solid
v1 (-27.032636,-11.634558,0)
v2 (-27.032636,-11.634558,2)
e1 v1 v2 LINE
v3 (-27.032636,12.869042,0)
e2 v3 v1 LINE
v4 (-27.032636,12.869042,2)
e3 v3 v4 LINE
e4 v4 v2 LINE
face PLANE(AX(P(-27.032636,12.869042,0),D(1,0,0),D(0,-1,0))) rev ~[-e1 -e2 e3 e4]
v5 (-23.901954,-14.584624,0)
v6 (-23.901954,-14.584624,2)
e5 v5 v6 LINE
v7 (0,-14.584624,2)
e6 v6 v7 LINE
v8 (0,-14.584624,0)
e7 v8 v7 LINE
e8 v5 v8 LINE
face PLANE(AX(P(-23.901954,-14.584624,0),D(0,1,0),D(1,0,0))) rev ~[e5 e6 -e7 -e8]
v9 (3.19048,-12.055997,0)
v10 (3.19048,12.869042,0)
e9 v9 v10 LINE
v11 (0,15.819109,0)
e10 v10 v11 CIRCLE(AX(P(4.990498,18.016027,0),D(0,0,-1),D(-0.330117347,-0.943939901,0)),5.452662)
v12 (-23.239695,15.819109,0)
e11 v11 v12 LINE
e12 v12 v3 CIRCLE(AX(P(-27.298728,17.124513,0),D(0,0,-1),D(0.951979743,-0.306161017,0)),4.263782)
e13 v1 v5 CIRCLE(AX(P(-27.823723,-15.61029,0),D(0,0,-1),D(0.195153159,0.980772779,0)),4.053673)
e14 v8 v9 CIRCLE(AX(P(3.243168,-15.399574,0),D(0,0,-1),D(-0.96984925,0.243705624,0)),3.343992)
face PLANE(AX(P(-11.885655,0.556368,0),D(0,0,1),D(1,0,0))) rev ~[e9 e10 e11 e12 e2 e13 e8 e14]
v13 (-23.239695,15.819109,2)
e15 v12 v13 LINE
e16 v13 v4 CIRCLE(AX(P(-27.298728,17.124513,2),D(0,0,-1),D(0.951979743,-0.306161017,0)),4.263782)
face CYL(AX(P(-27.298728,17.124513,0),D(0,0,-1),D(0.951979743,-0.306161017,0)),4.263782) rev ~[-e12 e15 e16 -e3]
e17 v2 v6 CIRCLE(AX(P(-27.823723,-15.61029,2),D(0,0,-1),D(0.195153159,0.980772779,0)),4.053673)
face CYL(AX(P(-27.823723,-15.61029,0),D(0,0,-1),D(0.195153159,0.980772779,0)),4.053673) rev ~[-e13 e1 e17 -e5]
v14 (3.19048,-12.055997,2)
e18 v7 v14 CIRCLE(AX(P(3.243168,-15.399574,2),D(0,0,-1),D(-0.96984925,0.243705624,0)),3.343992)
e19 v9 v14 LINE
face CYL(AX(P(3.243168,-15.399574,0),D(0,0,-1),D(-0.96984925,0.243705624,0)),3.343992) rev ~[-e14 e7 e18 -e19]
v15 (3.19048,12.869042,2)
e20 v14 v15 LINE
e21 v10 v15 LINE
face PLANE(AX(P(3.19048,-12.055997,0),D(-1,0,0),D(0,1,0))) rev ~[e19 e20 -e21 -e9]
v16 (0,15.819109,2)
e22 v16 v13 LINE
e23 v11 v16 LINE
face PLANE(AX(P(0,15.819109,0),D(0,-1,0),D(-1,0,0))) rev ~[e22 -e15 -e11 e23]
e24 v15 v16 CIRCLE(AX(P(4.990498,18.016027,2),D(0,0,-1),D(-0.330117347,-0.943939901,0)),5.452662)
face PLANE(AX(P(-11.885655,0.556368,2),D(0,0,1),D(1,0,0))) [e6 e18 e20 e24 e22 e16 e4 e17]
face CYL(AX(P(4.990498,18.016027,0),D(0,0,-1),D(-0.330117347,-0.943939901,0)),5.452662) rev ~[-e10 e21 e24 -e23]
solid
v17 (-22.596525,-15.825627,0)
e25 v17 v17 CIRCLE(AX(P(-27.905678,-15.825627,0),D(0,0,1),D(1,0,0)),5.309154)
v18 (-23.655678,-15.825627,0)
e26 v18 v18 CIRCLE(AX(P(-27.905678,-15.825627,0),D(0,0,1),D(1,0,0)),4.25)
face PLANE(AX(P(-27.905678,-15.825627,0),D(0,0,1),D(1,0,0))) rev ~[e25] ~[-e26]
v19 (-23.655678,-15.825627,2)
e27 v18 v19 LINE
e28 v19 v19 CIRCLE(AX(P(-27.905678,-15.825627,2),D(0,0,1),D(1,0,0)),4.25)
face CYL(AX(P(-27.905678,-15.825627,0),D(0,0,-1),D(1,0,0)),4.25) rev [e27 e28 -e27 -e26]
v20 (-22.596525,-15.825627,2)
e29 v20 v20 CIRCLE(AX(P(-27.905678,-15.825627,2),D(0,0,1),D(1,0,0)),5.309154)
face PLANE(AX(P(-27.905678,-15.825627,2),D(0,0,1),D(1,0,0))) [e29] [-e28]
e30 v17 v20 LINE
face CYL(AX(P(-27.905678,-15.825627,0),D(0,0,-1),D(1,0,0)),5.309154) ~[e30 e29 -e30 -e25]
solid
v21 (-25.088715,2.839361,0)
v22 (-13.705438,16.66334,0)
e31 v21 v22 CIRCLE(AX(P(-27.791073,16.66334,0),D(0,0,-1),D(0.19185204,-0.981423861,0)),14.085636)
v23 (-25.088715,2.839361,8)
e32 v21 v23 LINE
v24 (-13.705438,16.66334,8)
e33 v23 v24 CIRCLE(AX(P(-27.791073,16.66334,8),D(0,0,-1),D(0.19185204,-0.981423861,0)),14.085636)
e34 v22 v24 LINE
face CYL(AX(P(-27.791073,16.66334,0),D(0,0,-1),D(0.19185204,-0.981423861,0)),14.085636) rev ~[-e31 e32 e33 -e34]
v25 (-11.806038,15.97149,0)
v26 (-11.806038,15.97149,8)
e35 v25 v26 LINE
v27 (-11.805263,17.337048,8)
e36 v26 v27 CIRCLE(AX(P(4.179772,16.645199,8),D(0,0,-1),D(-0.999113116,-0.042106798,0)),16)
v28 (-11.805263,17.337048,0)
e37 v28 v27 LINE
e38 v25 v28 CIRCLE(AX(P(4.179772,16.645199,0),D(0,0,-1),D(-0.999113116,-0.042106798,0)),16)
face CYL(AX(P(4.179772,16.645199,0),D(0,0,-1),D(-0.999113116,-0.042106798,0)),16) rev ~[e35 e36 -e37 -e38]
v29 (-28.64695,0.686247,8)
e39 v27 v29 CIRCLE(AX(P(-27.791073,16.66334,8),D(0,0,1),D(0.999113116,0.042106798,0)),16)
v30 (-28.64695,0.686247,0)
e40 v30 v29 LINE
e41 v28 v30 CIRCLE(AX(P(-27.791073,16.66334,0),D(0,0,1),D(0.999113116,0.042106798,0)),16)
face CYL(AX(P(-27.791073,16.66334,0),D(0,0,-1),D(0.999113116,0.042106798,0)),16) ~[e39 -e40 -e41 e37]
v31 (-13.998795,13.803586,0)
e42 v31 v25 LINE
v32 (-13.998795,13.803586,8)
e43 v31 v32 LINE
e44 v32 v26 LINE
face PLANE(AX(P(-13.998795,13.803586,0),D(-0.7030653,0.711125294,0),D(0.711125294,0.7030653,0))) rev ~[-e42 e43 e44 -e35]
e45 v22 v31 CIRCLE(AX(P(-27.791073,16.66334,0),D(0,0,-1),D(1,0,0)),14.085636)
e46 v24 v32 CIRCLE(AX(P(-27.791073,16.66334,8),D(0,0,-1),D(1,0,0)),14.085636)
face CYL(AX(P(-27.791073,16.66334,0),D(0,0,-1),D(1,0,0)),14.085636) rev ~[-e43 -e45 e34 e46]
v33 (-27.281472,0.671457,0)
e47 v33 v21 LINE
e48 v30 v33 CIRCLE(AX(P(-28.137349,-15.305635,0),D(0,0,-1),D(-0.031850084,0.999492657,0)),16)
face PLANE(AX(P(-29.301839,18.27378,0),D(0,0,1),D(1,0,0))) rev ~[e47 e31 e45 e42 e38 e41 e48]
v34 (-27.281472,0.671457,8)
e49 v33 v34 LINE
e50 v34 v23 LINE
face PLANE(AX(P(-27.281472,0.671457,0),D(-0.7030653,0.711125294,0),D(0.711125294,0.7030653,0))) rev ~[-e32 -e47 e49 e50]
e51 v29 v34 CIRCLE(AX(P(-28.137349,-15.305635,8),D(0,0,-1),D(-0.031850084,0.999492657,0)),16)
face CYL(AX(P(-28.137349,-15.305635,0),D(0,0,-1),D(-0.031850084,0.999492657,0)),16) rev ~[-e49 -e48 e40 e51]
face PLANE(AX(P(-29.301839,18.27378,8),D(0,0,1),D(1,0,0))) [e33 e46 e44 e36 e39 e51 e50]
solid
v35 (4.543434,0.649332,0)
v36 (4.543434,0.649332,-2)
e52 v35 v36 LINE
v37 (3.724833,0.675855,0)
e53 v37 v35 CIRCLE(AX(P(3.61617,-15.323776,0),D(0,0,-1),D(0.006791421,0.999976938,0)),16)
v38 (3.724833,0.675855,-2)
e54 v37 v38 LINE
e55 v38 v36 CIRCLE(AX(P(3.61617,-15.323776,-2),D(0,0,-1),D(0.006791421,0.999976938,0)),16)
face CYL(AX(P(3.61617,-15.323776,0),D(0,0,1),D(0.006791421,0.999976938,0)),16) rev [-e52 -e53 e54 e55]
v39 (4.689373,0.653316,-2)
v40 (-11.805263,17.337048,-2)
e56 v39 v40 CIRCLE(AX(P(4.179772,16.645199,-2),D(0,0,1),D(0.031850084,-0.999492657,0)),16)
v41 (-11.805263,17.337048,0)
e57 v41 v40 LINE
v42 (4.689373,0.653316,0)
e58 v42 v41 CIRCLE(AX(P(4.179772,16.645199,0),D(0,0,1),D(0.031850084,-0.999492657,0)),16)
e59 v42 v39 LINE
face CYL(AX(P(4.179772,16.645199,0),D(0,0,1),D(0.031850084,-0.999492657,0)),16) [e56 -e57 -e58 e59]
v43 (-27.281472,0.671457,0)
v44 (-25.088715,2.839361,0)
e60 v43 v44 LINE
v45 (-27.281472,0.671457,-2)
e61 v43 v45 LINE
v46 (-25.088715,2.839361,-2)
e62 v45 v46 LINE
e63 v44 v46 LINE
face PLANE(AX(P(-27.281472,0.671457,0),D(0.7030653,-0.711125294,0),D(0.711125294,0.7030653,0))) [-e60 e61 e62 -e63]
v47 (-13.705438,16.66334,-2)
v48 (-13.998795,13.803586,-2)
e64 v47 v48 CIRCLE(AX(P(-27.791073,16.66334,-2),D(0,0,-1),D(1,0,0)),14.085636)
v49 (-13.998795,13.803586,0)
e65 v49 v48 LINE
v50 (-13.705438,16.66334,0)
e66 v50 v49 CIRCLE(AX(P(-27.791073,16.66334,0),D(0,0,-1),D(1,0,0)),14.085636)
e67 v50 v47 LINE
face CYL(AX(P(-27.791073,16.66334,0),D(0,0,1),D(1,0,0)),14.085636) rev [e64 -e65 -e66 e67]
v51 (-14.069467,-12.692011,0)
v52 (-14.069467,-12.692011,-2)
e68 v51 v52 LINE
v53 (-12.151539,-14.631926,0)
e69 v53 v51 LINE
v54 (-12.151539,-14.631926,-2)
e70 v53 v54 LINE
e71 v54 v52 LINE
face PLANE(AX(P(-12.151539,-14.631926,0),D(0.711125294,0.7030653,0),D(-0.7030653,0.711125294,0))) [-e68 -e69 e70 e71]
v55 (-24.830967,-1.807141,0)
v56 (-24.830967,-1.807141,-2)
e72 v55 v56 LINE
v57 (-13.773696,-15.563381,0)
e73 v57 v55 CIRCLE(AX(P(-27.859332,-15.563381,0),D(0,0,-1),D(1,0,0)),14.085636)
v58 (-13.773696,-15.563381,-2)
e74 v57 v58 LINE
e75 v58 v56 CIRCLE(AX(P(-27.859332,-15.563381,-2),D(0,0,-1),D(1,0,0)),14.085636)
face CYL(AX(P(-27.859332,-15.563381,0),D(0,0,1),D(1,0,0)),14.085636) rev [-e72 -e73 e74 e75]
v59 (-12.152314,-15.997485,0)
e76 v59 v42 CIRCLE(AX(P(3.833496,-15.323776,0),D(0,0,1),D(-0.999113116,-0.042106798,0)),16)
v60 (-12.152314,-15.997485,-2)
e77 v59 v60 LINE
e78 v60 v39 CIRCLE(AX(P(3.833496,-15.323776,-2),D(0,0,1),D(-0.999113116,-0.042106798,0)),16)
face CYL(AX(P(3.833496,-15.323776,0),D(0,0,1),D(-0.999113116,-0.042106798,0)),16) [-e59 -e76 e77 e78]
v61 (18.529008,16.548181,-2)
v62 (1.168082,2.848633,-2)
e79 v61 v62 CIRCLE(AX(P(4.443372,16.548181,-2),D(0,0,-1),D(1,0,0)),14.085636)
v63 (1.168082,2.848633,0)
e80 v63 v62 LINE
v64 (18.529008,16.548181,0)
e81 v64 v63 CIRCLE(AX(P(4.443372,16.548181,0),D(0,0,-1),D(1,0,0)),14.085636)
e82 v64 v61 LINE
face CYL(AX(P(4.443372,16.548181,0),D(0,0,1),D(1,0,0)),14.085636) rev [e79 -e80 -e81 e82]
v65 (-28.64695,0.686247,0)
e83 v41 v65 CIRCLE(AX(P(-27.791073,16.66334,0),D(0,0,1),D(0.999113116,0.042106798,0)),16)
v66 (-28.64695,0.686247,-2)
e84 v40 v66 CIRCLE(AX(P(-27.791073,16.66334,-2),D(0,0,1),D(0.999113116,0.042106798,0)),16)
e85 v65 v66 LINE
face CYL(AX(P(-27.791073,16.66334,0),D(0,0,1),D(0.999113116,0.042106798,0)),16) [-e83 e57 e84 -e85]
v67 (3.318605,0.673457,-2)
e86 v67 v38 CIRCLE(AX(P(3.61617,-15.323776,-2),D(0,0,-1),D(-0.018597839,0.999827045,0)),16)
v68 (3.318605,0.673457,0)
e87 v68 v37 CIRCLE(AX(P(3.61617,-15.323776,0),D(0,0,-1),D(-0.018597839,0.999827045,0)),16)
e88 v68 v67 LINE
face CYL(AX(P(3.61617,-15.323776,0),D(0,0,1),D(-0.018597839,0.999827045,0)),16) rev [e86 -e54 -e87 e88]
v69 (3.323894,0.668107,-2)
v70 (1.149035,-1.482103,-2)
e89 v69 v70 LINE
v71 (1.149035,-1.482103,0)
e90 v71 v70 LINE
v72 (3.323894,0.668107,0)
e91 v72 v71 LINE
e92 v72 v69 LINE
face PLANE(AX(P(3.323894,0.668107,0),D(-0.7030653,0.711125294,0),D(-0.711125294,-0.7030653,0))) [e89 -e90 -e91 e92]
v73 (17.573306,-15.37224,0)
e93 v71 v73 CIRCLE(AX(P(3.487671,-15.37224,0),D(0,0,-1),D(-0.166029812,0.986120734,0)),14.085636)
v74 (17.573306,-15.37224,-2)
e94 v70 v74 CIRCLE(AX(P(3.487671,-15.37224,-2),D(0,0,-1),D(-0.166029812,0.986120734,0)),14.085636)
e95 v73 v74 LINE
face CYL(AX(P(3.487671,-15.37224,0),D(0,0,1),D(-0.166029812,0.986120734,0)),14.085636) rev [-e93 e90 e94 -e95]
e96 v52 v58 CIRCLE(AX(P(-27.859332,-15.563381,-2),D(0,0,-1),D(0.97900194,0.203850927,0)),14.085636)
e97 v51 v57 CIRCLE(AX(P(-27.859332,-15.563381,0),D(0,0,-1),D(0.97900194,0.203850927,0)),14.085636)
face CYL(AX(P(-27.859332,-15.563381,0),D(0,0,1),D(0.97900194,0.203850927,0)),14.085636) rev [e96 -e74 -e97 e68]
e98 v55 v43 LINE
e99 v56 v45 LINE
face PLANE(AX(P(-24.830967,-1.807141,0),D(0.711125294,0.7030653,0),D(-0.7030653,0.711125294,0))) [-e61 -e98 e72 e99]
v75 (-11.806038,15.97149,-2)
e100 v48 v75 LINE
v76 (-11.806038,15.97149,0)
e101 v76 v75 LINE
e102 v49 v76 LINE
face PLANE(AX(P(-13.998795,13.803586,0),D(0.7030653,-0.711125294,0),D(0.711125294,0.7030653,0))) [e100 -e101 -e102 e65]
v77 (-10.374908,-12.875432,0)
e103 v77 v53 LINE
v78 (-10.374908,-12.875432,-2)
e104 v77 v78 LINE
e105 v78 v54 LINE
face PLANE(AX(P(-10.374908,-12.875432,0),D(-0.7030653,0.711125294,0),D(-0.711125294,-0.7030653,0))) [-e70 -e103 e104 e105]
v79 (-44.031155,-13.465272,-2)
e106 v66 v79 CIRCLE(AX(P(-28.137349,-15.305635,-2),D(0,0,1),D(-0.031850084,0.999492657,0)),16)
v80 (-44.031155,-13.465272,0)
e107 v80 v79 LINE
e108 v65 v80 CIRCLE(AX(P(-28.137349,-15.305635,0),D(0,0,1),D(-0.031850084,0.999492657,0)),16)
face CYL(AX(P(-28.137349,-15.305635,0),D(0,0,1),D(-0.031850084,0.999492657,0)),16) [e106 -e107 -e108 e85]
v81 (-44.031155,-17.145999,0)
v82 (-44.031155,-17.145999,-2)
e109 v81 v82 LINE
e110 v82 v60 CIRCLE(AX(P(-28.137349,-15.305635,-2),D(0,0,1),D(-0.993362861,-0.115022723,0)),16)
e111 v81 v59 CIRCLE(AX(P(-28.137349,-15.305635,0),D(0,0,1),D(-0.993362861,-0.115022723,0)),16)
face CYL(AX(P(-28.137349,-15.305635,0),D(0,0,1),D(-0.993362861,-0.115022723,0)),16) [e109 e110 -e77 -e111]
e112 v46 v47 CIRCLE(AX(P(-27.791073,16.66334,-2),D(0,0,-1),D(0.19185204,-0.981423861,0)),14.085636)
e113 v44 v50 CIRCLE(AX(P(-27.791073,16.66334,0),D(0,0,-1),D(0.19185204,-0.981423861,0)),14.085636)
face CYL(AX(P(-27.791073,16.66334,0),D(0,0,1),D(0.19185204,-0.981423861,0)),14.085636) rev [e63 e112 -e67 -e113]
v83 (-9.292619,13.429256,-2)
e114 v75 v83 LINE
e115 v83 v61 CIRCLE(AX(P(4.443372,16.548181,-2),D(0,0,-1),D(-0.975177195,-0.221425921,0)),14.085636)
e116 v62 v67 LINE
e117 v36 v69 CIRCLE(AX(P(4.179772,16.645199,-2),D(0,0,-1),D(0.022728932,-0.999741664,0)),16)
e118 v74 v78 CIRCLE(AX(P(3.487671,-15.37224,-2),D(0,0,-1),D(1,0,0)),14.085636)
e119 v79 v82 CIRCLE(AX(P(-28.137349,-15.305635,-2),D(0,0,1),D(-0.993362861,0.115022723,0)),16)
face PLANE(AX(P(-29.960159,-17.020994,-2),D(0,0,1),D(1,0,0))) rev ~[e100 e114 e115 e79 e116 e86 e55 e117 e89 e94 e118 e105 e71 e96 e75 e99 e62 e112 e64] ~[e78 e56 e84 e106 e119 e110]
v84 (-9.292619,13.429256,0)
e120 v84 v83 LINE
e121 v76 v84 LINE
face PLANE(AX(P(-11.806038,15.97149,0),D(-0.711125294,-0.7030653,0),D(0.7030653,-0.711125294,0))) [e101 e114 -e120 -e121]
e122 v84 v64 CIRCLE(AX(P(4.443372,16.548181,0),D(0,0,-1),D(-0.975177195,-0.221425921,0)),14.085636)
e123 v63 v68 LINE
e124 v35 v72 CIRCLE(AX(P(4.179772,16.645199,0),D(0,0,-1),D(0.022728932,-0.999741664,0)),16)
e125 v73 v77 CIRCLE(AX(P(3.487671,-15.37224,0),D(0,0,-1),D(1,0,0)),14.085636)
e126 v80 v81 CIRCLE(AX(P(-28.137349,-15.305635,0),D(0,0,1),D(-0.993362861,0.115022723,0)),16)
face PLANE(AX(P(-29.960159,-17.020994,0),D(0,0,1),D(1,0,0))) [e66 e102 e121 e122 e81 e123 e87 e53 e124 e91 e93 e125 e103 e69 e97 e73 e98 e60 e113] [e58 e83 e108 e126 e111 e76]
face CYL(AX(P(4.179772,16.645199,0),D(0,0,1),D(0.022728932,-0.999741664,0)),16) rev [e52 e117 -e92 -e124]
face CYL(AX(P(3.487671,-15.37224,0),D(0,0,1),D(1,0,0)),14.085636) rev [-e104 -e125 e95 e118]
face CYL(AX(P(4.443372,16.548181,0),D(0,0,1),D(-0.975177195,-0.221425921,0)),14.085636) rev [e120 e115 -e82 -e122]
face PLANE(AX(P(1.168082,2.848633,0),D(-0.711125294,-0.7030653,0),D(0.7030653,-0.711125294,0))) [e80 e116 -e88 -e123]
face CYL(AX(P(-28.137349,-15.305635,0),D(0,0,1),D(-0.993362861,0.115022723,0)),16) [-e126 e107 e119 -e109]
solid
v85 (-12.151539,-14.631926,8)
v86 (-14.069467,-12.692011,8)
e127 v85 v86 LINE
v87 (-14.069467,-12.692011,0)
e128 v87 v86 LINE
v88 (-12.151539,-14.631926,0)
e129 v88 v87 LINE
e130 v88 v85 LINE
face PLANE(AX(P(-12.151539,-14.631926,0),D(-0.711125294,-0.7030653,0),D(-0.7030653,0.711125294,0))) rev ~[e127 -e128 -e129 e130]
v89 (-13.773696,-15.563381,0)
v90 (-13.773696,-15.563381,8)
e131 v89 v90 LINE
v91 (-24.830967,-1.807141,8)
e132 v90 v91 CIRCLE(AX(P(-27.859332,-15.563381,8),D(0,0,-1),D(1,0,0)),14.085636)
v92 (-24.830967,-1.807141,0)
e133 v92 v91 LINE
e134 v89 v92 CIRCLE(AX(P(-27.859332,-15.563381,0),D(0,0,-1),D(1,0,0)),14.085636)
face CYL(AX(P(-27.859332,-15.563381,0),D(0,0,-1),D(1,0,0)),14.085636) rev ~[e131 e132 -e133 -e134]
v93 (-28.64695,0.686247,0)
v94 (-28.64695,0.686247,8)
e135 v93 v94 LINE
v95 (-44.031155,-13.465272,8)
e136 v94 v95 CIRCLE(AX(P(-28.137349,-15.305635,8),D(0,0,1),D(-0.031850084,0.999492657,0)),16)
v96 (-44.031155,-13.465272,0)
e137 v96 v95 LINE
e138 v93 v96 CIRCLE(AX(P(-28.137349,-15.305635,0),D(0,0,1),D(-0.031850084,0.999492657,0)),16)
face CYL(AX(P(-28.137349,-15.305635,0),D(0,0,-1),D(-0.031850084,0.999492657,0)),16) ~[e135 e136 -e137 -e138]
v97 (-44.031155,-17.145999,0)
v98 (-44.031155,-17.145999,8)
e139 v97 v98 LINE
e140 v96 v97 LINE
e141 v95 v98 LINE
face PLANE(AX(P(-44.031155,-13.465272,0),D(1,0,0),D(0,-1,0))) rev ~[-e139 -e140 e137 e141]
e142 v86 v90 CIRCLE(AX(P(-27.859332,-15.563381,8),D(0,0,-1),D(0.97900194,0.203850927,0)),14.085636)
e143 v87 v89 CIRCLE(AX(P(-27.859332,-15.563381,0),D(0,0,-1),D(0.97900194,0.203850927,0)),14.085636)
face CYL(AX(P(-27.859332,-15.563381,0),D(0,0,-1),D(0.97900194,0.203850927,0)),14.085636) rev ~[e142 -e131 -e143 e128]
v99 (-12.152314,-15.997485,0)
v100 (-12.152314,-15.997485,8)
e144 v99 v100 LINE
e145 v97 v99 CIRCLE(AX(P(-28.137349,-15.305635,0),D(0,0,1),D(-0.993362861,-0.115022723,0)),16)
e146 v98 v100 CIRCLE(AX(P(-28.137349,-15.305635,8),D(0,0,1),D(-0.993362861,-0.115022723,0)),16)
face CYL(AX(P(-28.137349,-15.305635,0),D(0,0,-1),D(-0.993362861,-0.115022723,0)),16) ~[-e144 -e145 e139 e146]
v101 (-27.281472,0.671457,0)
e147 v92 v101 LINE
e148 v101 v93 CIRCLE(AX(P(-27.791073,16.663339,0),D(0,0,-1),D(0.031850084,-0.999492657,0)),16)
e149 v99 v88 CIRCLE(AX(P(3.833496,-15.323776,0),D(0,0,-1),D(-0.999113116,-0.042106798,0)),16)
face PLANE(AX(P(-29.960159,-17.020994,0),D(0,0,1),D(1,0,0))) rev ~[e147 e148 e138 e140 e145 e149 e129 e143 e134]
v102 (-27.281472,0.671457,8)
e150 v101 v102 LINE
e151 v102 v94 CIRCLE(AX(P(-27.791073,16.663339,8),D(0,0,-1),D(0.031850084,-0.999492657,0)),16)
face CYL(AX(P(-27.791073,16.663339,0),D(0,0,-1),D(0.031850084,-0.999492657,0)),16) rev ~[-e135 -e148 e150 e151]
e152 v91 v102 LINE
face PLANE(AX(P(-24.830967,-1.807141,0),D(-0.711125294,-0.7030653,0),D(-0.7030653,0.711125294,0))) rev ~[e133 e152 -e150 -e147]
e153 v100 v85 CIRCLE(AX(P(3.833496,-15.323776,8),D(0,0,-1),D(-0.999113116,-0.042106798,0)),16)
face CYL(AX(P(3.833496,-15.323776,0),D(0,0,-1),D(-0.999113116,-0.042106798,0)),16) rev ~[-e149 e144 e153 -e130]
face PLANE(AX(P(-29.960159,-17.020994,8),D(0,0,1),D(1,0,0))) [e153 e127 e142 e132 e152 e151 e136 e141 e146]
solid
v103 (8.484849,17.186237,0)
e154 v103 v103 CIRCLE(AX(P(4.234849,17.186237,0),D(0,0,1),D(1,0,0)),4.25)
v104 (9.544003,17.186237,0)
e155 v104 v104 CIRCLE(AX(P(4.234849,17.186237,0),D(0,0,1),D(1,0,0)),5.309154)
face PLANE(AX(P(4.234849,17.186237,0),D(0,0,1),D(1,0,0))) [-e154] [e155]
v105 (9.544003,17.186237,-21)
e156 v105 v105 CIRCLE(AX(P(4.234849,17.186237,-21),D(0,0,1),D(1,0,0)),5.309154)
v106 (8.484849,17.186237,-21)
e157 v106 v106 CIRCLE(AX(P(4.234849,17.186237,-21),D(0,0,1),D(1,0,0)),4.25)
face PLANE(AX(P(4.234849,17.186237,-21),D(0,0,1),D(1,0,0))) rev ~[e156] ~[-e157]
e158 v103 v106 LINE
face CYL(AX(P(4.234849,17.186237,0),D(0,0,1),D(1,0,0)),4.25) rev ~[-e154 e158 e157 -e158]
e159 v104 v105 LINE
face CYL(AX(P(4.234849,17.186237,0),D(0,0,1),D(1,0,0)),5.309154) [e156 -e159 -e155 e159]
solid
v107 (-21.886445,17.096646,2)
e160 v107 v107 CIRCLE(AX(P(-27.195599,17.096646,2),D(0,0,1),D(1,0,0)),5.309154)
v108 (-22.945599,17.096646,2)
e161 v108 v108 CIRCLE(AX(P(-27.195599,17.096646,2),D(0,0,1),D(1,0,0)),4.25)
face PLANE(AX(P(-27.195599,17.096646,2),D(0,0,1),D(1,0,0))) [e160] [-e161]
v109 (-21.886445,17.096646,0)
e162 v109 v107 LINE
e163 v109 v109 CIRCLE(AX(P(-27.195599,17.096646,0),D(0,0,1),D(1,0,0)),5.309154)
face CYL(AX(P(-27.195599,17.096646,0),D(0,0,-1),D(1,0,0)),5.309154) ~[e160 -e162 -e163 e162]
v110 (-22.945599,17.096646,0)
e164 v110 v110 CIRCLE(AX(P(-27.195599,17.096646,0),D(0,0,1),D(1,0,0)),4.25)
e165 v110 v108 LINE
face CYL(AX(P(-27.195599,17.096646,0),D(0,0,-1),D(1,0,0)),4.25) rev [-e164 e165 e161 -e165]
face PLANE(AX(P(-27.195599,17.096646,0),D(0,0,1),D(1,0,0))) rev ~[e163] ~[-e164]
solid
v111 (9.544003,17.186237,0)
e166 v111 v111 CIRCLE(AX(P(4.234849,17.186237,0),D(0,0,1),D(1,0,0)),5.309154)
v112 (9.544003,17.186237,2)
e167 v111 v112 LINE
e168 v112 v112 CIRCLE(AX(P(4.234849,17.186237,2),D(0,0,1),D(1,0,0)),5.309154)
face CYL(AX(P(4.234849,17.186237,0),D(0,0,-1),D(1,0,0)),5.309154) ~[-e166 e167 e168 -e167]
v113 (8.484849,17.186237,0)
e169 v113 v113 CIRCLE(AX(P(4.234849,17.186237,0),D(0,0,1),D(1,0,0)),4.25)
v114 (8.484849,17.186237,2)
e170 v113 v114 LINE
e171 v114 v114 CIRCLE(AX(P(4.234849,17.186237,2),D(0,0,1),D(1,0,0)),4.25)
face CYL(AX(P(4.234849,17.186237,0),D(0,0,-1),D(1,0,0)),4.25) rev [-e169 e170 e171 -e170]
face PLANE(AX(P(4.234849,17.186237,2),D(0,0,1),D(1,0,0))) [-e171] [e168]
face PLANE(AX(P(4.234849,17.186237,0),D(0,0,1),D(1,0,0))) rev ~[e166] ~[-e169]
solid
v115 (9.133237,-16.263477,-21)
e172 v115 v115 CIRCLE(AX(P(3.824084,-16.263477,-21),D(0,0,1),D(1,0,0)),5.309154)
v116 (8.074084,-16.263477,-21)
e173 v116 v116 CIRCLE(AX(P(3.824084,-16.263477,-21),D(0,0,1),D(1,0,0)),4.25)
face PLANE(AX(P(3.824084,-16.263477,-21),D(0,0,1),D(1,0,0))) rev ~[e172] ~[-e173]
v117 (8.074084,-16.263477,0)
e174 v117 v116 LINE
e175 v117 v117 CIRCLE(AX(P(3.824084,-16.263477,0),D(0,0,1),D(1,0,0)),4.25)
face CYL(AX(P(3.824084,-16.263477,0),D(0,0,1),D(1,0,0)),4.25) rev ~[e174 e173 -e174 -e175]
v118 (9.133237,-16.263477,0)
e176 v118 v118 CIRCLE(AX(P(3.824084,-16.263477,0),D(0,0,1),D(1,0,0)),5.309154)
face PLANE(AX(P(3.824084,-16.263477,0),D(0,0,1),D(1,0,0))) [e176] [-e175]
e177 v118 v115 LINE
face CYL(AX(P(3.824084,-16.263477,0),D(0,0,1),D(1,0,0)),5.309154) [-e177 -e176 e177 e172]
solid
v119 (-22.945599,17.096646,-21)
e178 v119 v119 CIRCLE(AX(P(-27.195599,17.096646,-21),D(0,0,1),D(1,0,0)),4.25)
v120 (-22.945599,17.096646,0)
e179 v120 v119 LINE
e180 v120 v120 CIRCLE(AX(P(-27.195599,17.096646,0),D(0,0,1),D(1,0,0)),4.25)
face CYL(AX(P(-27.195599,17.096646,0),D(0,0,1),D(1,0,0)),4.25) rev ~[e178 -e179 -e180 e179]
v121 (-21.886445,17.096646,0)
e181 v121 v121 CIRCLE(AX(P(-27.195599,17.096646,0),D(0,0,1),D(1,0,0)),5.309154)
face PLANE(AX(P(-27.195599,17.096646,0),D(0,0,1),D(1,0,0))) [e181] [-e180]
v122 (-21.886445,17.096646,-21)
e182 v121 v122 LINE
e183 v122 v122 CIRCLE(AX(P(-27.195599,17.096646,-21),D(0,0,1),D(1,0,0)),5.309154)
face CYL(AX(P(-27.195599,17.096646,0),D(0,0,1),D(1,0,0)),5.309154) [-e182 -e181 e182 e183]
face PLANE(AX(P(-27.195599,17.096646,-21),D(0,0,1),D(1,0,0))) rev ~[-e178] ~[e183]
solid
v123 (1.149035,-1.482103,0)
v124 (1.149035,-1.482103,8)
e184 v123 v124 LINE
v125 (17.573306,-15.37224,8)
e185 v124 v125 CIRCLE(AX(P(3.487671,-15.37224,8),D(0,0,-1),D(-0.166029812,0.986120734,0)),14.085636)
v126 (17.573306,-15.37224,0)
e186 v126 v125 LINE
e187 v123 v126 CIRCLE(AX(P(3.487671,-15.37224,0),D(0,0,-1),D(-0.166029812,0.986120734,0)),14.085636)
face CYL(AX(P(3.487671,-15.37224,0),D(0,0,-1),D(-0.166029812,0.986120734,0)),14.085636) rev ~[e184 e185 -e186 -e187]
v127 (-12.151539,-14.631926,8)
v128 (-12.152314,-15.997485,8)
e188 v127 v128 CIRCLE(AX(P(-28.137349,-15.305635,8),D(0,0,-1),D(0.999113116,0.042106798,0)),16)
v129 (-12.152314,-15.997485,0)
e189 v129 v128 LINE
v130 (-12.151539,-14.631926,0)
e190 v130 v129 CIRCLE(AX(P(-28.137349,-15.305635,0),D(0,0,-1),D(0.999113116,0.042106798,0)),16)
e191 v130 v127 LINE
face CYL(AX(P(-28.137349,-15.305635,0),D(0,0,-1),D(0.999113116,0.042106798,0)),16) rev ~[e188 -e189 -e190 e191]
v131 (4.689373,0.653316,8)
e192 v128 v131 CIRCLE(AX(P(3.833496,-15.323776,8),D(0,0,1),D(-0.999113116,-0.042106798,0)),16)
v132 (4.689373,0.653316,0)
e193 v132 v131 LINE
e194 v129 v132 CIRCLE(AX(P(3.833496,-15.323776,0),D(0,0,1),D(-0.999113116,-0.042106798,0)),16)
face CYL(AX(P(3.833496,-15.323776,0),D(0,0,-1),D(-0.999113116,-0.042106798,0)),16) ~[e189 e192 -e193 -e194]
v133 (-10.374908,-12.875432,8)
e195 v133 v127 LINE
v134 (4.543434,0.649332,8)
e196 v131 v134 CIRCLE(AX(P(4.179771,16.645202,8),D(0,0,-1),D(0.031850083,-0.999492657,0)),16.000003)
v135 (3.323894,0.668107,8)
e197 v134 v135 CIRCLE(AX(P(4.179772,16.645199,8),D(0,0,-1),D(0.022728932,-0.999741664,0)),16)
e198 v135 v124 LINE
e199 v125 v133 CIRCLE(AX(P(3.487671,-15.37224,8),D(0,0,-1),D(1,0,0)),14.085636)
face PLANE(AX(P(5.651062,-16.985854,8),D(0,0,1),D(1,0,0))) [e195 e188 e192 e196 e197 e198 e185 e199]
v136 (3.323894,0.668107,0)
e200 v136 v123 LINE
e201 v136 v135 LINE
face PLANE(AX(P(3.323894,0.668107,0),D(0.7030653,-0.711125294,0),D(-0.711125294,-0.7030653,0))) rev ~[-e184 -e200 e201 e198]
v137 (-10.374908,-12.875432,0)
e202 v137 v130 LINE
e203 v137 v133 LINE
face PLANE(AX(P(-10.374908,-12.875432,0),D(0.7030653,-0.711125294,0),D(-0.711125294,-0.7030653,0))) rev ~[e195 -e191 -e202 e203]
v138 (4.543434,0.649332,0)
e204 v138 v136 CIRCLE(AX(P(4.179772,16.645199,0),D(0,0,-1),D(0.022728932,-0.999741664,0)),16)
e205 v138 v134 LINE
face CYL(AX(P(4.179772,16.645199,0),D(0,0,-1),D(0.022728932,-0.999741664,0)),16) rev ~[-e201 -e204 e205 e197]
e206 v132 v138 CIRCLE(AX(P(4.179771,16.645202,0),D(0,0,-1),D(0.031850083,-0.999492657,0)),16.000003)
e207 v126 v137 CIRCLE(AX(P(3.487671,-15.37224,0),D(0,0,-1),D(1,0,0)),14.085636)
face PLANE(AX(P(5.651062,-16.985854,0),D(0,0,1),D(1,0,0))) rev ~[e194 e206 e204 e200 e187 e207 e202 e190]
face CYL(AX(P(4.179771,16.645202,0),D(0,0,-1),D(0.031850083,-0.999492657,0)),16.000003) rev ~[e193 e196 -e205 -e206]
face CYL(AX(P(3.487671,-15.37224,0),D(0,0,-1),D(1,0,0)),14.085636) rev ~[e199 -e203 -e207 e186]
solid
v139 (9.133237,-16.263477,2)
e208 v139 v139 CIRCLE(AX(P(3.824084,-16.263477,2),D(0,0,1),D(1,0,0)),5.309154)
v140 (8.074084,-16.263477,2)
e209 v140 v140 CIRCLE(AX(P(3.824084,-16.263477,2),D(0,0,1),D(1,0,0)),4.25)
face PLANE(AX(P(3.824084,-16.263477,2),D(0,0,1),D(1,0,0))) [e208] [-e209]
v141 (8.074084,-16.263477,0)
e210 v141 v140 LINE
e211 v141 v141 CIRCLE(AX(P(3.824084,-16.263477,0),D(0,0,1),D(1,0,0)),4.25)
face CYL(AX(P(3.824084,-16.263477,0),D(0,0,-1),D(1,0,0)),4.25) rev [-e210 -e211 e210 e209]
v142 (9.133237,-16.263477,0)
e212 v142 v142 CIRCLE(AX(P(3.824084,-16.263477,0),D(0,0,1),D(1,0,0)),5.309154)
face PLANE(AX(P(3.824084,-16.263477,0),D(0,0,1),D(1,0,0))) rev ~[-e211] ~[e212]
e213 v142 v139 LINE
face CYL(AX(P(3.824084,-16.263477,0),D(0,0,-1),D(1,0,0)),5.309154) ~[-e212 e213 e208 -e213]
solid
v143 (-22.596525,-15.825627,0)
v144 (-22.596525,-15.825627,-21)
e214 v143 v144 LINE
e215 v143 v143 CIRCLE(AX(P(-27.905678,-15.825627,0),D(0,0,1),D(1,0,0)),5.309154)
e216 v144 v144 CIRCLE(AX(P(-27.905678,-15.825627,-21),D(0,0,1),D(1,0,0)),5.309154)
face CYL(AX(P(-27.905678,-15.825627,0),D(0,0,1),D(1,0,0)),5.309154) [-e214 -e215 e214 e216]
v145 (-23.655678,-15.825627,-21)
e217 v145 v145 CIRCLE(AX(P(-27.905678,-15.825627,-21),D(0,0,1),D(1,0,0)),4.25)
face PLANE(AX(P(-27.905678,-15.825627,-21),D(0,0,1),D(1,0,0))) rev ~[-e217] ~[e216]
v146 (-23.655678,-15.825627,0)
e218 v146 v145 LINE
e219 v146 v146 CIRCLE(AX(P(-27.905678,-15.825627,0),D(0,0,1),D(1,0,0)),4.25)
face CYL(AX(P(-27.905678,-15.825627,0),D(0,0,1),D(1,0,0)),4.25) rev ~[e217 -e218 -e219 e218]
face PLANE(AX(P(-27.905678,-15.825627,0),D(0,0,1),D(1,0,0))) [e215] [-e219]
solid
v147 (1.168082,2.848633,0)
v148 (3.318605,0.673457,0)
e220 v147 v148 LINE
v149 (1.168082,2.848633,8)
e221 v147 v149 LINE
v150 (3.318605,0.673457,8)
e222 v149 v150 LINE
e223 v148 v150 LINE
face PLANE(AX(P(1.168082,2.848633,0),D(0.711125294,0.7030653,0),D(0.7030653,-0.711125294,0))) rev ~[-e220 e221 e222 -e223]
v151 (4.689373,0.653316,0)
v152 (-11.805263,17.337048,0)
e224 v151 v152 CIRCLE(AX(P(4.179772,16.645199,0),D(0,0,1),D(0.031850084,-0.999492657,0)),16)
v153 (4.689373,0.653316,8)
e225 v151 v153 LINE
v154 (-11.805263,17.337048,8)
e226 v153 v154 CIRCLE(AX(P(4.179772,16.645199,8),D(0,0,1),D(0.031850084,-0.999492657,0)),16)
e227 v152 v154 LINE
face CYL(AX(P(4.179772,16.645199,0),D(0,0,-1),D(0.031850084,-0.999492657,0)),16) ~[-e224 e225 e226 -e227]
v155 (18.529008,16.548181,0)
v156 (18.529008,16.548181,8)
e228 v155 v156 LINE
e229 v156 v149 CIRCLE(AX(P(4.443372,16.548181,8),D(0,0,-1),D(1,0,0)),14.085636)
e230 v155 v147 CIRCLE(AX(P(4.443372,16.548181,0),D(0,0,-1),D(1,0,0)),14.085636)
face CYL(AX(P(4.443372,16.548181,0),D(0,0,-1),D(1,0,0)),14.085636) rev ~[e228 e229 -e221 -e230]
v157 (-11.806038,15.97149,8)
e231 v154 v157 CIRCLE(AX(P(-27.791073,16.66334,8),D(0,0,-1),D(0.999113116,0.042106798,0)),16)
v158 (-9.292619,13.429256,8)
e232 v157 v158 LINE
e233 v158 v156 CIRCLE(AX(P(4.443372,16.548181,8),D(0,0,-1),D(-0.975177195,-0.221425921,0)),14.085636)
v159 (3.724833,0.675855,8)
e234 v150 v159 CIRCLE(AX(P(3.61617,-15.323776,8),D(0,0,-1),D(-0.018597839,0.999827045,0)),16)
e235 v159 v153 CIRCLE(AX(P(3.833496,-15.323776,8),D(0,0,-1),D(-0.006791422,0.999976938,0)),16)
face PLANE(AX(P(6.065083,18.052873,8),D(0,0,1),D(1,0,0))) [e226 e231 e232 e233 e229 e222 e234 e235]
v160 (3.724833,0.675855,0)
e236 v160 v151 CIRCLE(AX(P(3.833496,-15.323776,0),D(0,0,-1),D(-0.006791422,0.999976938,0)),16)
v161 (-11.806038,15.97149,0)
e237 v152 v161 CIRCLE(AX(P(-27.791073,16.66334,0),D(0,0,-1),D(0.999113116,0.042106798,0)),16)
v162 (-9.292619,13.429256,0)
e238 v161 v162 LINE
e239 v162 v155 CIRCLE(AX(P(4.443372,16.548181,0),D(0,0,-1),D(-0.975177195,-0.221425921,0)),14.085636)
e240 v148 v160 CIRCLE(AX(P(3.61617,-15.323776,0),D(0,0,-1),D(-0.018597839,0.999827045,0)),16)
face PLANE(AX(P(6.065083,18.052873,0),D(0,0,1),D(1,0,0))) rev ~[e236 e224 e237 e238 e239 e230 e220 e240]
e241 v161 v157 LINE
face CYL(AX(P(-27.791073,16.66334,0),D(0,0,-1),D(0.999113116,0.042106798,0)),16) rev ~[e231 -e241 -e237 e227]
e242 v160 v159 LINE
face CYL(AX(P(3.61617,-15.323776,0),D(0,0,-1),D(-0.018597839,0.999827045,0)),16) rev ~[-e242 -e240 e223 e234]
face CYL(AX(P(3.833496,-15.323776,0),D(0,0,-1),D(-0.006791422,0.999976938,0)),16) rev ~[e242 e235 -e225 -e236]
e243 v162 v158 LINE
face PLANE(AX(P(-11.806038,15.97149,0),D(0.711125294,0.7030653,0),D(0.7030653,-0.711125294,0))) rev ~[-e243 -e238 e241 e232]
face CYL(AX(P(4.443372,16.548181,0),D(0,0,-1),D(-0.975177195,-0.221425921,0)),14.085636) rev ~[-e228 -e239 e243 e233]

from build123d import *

# Parameters (mm, degrees)
F1_DEPTH = 8
F2_R     = 5.3091536447
F2_R_2   = 4.25
F3_DEPTH = 21
F4_DEPTH = 2
F5_DEPTH = 2
F7_DEPTH = 2


with BuildPart() as f1:
    # F0 (on Top) → F1 (new body)
    with BuildSketch(Plane.XY):
        with BuildLine():
            ThreePointArc((-11.8052634665, 17.3370482805), (-39.040118112, 28.0413442261), (-28.6469504602, 0.6862473443))
            ThreePointArc((-28.6469504602, 0.6862473443), (-27.9640533546, 0.6934263167), (-27.2814719722, 0.6714569994))
            Line((-27.2814719722, 0.6714569994), (-25.0887153763, 2.8393605825))
            ThreePointArc((-25.0887153763, 2.8393605825), (-38.6646550928, 25.6171292926), (-13.705437652, 16.6633395175))
            ThreePointArc((-13.705437652, 16.6633395175), (-13.7789688928, 15.2259593684), (-13.9987949051, 13.8035863298))
            Line((-13.9987949051, 13.8035863298), (-11.8060383093, 15.9714899129))
            ThreePointArc((-11.8060383093, 15.9714899129), (-11.8202258854, 16.6542773668), (-11.8052634665, 17.3370482805))
        make_face()
    extrude(amount=F1_DEPTH)


with BuildPart() as f1b:
    # F0 (on Top) → F1, piece 2 (new body)
    with BuildSketch(Plane.XY):
        with BuildLine():
            ThreePointArc((-28.6469504602, 0.6862473443), (-38.969445561, -3.529995631), (-44.0311548898, -13.4652716011))
            Line((-44.0311548898, -13.4652716011), (-44.0311548898, -17.1459987465))
            ThreePointArc((-44.0311548898, -17.1459987465), (-27.5612833428, -31.2952614428), (-12.1523141123, -15.9974847784))
            ThreePointArc((-12.1523141123, -15.9974847784), (-12.1665016884, -15.3146973245), (-12.1515392695, -14.6319264108))
            Line((-12.1515392695, -14.6319264108), (-14.0694673937, -12.6920110117))
            ThreePointArc((-14.0694673937, -12.6920110117), (-13.8478342387, -14.1200994389), (-13.7736963772, -15.5633809045))
            ThreePointArc((-13.7736963772, -15.5633809045), (-38.8379836536, -24.3880248502), (-24.8309667246, -1.807141028))
            Line((-24.8309667246, -1.807141028), (-27.2814719722, 0.6714569994))
            ThreePointArc((-27.2814719722, 0.6714569994), (-27.9643690778, 0.6642780269), (-28.6469504602, 0.6862473443))
        make_face()
    extrude(amount=F1_DEPTH)


with BuildPart() as f1c:
    # F0 (on Top) → F1, piece 3 (new body)
    with BuildSketch(Plane.XY):
        with BuildLine():
            ThreePointArc((4.6893728815, 0.6533161578), (15.5577762475, 27.8942434731), (-11.8052634665, 17.3370482805))
            ThreePointArc((-11.8052634665, 17.3370482805), (-11.7910758904, 16.6542608265), (-11.8060383093, 15.9714899129))
            Line((-11.8060383093, 15.9714899129), (-9.2926185414, 13.4292561082))
            ThreePointArc((-9.2926185414, 13.4292561082), (2.874141128, 30.5461324482), (18.5290077968, 16.5481809527))
            ThreePointArc((18.5290077968, 16.5481809527), (13.1689262383, 5.4906117081), (1.1680820245, 2.8486332696))
            Line((1.1680820245, 2.8486332696), (3.3186048275, 0.6734567084))
            ThreePointArc((3.3186048275, 0.6734567084), (3.5217112973, 0.6759451542), (3.7248329906, 0.675854993))
            ThreePointArc((3.7248329906, 0.675854993), (4.2072728617, 0.6718574719), (4.6893728815, 0.6533161578))
        make_face()
    extrude(amount=F1_DEPTH)


with BuildPart() as f1d:
    # F0 (on Top) → F1, piece 4 (new body)
    with BuildSketch(Plane.XY):
        with BuildLine():
            ThreePointArc((-12.1515392695, -14.6319264108), (-12.1373516934, -15.3147138647), (-12.1523141123, -15.9974847784))
            ThreePointArc((-12.1523141123, -15.9974847784), (15.0825405332, -26.7017807241), (4.6893728815, 0.6533161578))
            ThreePointArc((4.6893728815, 0.6533161578), (4.6164082098, 0.6511576475), (4.5434344497, 0.6493320445))
            ThreePointArc((4.5434344497, 0.6493320445), (3.9334854587, 0.6470943142), (3.3238943934, 0.6681065026))
            Line((3.3238943934, 0.6681065026), (1.149035119, -1.4821026098))
            ThreePointArc((1.149035119, -1.4821026098), (12.5833828818, -4.6170947319), (17.573306224, -15.3722399846))
            ThreePointArc((17.573306224, -15.3722399846), (2.2342944382, -29.402000507), (-10.3749078332, -12.875431566))
            Line((-10.3749078332, -12.875431566), (-12.1515392695, -14.6319264108))
        make_face()
    extrude(amount=F1_DEPTH)


with BuildPart() as f3:
    # F2 (on Top) → F3 (new body)
    with BuildSketch(Plane.XY):
        with Locations((-27.1955989301, 17.0966461301)):
            Circle(F2_R)
        with Locations((-27.1955989301, 17.0966461301)):
            Circle(F2_R_2, mode=Mode.SUBTRACT)
    extrude(amount=-F3_DEPTH)


with BuildPart() as f3b:
    # F2 (on Top) → F3, piece 2 (new body)
    with BuildSketch(Plane.XY):
        with Locations((4.2348494753, 17.1862374991)):
            Circle(F2_R)
        with Locations((4.2348494753, 17.1862374991)):
            Circle(F2_R_2, mode=Mode.SUBTRACT)
    extrude(amount=-F3_DEPTH)


with BuildPart() as f3c:
    # F2 (on Top) → F3, piece 3 (new body)
    with BuildSketch(Plane.XY):
        with Locations((-27.9056783766, -15.8256273717)):
            Circle(F2_R)
        with Locations((-27.9056783766, -15.8256273717)):
            Circle(F2_R_2, mode=Mode.SUBTRACT)
    extrude(amount=-F3_DEPTH)


with BuildPart() as f3d:
    # F2 (on Top) → F3, piece 4 (new body)
    with BuildSketch(Plane.XY):
        with Locations((3.8240837653, -16.2634769269)):
            Circle(F2_R)
        with Locations((3.8240837653, -16.2634769269)):
            Circle(F2_R_2, mode=Mode.SUBTRACT)
    extrude(amount=-F3_DEPTH)


with BuildPart() as f4:
    # F2 (on Top) → F4 (new body)
    with BuildSketch(Plane.XY):
        with Locations((-27.1955989301, 17.0966461301)):
            Circle(F2_R)
        with Locations((-27.1955989301, 17.0966461301)):
            Circle(F2_R_2, mode=Mode.SUBTRACT)
    extrude(amount=F4_DEPTH)


with BuildPart() as f4b:
    # F2 (on Top) → F4, piece 2 (new body)
    with BuildSketch(Plane.XY):
        with Locations((4.2348494753, 17.1862374991)):
            Circle(F2_R)
        with Locations((4.2348494753, 17.1862374991)):
            Circle(F2_R_2, mode=Mode.SUBTRACT)
    extrude(amount=F4_DEPTH)


with BuildPart() as f4c:
    # F2 (on Top) → F4, piece 3 (new body)
    with BuildSketch(Plane.XY):
        with Locations((-27.9056783766, -15.8256273717)):
            Circle(F2_R)
        with Locations((-27.9056783766, -15.8256273717)):
            Circle(F2_R_2, mode=Mode.SUBTRACT)
    extrude(amount=F4_DEPTH)


with BuildPart() as f4d:
    # F2 (on Top) → F4, piece 4 (new body)
    with BuildSketch(Plane.XY):
        with Locations((3.8240837653, -16.2634769269)):
            Circle(F2_R)
        with Locations((3.8240837653, -16.2634769269)):
            Circle(F2_R_2, mode=Mode.SUBTRACT)
    extrude(amount=F4_DEPTH)


with BuildPart() as f5:
    # F0 (on Top) → F5 (new body)
    with BuildSketch(Plane.XY):
        with BuildLine():
            ThreePointArc((-28.6469504602, 0.6862473443), (-38.969445561, -3.529995631), (-44.0311548898, -13.4652716011))
            Line((-44.0311548898, -13.4652716011), (-44.0311548898, -17.1459987465))
            ThreePointArc((-44.0311548898, -17.1459987465), (-27.5612833428, -31.2952614428), (-12.1523141123, -15.9974847784))
            ThreePointArc((-12.1523141123, -15.9974847784), (-12.1665016884, -15.3146973245), (-12.1515392695, -14.6319264108))
            Line((-12.1515392695, -14.6319264108), (-14.0694673937, -12.6920110117))
            ThreePointArc((-14.0694673937, -12.6920110117), (-13.8478342387, -14.1200994389), (-13.7736963772, -15.5633809045))
            ThreePointArc((-13.7736963772, -15.5633809045), (-38.8379836536, -24.3880248502), (-24.8309667246, -1.807141028))
            Line((-24.8309667246, -1.807141028), (-27.2814719722, 0.6714569994))
            ThreePointArc((-27.2814719722, 0.6714569994), (-27.9643690778, 0.6642780269), (-28.6469504602, 0.6862473443))
        make_face()
        with BuildLine():
            Line((-44.0311548898, -17.1459987465), (-44.0311548898, -13.4652716011))
            ThreePointArc((-44.0311548898, -13.4652716011), (-44.1373491177, -15.3056351738), (-44.0311548898, -17.1459987465))
        make_face()
        with BuildLine():
            ThreePointArc((-27.2814719722, 0.6714569994), (-27.9640533546, 0.6934263167), (-28.6469504602, 0.6862473443))
            ThreePointArc((-28.6469504602, 0.6862473443), (-27.9643690778, 0.6642780269), (-27.2814719722, 0.6714569994))
        make_face()
        with BuildLine():
            ThreePointArc((-11.8052634665, 17.3370482805), (-39.040118112, 28.0413442261), (-28.6469504602, 0.6862473443))
            ThreePointArc((-28.6469504602, 0.6862473443), (-27.9640533546, 0.6934263167), (-27.2814719722, 0.6714569994))
            Line((-27.2814719722, 0.6714569994), (-25.0887153763, 2.8393605825))
            ThreePointArc((-25.0887153763, 2.8393605825), (-38.6646550928, 25.6171292926), (-13.705437652, 16.6633395175))
            ThreePointArc((-13.705437652, 16.6633395175), (-13.7789688928, 15.2259593684), (-13.9987949051, 13.8035863298))
            Line((-13.9987949051, 13.8035863298), (-11.8060383093, 15.9714899129))
            ThreePointArc((-11.8060383093, 15.9714899129), (-11.8202258854, 16.6542773668), (-11.8052634665, 17.3370482805))
        make_face()
        with BuildLine():
            ThreePointArc((-12.1515392695, -14.6319264108), (-12.1665016884, -15.3146973245), (-12.1523141123, -15.9974847784))
            ThreePointArc((-12.1523141123, -15.9974847784), (-12.1373516934, -15.3147138647), (-12.1515392695, -14.6319264108))
        make_face()
        with BuildLine():
            ThreePointArc((-12.1515392695, -14.6319264108), (-12.1373516934, -15.3147138647), (-12.1523141123, -15.9974847784))
            ThreePointArc((-12.1523141123, -15.9974847784), (15.0825405332, -26.7017807241), (4.6893728815, 0.6533161578))
            ThreePointArc((4.6893728815, 0.6533161578), (4.6164082098, 0.6511576475), (4.5434344497, 0.6493320445))
            ThreePointArc((4.5434344497, 0.6493320445), (3.9334854587, 0.6470943142), (3.3238943934, 0.6681065026))
            Line((3.3238943934, 0.6681065026), (1.149035119, -1.4821026098))
            ThreePointArc((1.149035119, -1.4821026098), (12.5833828818, -4.6170947319), (17.573306224, -15.3722399846))
            ThreePointArc((17.573306224, -15.3722399846), (2.2342944382, -29.402000507), (-10.3749078332, -12.875431566))
            Line((-10.3749078332, -12.875431566), (-12.1515392695, -14.6319264108))
        make_face()
        with BuildLine():
            ThreePointArc((4.6893728815, 0.6533161578), (15.5577762475, 27.8942434731), (-11.8052634665, 17.3370482805))
            ThreePointArc((-11.8052634665, 17.3370482805), (-11.7910758904, 16.6542608265), (-11.8060383093, 15.9714899129))
            Line((-11.8060383093, 15.9714899129), (-9.2926185414, 13.4292561082))
            ThreePointArc((-9.2926185414, 13.4292561082), (2.874141128, 30.5461324482), (18.5290077968, 16.5481809527))
            ThreePointArc((18.5290077968, 16.5481809527), (13.1689262383, 5.4906117081), (1.1680820245, 2.8486332696))
            Line((1.1680820245, 2.8486332696), (3.3186048275, 0.6734567084))
            ThreePointArc((3.3186048275, 0.6734567084), (3.5217112973, 0.6759451542), (3.7248329906, 0.675854993))
            ThreePointArc((3.7248329906, 0.675854993), (4.2072728617, 0.6718574719), (4.6893728815, 0.6533161578))
        make_face()
        with BuildLine():
            ThreePointArc((-11.8060383093, 15.9714899129), (-11.7910758904, 16.6542608265), (-11.8052634665, 17.3370482805))
            ThreePointArc((-11.8052634665, 17.3370482805), (-11.8202258854, 16.6542773668), (-11.8060383093, 15.9714899129))
        make_face()
        with BuildLine():
            ThreePointArc((4.5434344497, 0.6493320445), (4.6164082098, 0.6511576475), (4.6893728815, 0.6533161578))
            ThreePointArc((4.6893728815, 0.6533161578), (4.2072728617, 0.6718574719), (3.7248329906, 0.675854993))
            ThreePointArc((3.7248329906, 0.675854993), (4.1343034598, 0.6678323456), (4.5434344497, 0.6493320445))
        make_face()
    extrude(amount=-F5_DEPTH)


with BuildPart() as f7:
    # F6 (on Top) → F7 (new body)
    with BuildSketch(Plane.XY):
        with BuildLine():
            Line((0, 15.819109045), (-23.2396945357, 15.819109045))
            ThreePointArc((-23.2396945357, 15.819109045), (-24.6810189805, 13.758887748), (-27.032636106, 12.8690423444))
            Line((-27.032636106, 12.8690423444), (-27.032636106, -11.6345584393))
            ThreePointArc((-27.032636106, -11.6345584393), (-25.0437097096, -12.6600720611), (-23.9019542933, -14.5846242085))
            Line((-23.9019542933, -14.5846242085), (0, -14.5846242085))
            ThreePointArc((0, -14.5846242085), (1.1661133533, -12.778862847), (3.190479707, -12.0559968054))
            Line((3.190479707, -12.0559968054), (3.190479707, 12.8690423444))
            ThreePointArc((3.190479707, 12.8690423444), (1.2886739454, 14.0125264764), (0, 15.819109045))
        make_face()
    extrude(amount=F7_DEPTH)


solid = Compound([f1.part, f1b.part, f1c.part, f1d.part, f3.part, f3b.part, f3c.part, f3d.part, f4.part, f4b.part, f4c.part, f4d.part, f5.part, f7.part])
